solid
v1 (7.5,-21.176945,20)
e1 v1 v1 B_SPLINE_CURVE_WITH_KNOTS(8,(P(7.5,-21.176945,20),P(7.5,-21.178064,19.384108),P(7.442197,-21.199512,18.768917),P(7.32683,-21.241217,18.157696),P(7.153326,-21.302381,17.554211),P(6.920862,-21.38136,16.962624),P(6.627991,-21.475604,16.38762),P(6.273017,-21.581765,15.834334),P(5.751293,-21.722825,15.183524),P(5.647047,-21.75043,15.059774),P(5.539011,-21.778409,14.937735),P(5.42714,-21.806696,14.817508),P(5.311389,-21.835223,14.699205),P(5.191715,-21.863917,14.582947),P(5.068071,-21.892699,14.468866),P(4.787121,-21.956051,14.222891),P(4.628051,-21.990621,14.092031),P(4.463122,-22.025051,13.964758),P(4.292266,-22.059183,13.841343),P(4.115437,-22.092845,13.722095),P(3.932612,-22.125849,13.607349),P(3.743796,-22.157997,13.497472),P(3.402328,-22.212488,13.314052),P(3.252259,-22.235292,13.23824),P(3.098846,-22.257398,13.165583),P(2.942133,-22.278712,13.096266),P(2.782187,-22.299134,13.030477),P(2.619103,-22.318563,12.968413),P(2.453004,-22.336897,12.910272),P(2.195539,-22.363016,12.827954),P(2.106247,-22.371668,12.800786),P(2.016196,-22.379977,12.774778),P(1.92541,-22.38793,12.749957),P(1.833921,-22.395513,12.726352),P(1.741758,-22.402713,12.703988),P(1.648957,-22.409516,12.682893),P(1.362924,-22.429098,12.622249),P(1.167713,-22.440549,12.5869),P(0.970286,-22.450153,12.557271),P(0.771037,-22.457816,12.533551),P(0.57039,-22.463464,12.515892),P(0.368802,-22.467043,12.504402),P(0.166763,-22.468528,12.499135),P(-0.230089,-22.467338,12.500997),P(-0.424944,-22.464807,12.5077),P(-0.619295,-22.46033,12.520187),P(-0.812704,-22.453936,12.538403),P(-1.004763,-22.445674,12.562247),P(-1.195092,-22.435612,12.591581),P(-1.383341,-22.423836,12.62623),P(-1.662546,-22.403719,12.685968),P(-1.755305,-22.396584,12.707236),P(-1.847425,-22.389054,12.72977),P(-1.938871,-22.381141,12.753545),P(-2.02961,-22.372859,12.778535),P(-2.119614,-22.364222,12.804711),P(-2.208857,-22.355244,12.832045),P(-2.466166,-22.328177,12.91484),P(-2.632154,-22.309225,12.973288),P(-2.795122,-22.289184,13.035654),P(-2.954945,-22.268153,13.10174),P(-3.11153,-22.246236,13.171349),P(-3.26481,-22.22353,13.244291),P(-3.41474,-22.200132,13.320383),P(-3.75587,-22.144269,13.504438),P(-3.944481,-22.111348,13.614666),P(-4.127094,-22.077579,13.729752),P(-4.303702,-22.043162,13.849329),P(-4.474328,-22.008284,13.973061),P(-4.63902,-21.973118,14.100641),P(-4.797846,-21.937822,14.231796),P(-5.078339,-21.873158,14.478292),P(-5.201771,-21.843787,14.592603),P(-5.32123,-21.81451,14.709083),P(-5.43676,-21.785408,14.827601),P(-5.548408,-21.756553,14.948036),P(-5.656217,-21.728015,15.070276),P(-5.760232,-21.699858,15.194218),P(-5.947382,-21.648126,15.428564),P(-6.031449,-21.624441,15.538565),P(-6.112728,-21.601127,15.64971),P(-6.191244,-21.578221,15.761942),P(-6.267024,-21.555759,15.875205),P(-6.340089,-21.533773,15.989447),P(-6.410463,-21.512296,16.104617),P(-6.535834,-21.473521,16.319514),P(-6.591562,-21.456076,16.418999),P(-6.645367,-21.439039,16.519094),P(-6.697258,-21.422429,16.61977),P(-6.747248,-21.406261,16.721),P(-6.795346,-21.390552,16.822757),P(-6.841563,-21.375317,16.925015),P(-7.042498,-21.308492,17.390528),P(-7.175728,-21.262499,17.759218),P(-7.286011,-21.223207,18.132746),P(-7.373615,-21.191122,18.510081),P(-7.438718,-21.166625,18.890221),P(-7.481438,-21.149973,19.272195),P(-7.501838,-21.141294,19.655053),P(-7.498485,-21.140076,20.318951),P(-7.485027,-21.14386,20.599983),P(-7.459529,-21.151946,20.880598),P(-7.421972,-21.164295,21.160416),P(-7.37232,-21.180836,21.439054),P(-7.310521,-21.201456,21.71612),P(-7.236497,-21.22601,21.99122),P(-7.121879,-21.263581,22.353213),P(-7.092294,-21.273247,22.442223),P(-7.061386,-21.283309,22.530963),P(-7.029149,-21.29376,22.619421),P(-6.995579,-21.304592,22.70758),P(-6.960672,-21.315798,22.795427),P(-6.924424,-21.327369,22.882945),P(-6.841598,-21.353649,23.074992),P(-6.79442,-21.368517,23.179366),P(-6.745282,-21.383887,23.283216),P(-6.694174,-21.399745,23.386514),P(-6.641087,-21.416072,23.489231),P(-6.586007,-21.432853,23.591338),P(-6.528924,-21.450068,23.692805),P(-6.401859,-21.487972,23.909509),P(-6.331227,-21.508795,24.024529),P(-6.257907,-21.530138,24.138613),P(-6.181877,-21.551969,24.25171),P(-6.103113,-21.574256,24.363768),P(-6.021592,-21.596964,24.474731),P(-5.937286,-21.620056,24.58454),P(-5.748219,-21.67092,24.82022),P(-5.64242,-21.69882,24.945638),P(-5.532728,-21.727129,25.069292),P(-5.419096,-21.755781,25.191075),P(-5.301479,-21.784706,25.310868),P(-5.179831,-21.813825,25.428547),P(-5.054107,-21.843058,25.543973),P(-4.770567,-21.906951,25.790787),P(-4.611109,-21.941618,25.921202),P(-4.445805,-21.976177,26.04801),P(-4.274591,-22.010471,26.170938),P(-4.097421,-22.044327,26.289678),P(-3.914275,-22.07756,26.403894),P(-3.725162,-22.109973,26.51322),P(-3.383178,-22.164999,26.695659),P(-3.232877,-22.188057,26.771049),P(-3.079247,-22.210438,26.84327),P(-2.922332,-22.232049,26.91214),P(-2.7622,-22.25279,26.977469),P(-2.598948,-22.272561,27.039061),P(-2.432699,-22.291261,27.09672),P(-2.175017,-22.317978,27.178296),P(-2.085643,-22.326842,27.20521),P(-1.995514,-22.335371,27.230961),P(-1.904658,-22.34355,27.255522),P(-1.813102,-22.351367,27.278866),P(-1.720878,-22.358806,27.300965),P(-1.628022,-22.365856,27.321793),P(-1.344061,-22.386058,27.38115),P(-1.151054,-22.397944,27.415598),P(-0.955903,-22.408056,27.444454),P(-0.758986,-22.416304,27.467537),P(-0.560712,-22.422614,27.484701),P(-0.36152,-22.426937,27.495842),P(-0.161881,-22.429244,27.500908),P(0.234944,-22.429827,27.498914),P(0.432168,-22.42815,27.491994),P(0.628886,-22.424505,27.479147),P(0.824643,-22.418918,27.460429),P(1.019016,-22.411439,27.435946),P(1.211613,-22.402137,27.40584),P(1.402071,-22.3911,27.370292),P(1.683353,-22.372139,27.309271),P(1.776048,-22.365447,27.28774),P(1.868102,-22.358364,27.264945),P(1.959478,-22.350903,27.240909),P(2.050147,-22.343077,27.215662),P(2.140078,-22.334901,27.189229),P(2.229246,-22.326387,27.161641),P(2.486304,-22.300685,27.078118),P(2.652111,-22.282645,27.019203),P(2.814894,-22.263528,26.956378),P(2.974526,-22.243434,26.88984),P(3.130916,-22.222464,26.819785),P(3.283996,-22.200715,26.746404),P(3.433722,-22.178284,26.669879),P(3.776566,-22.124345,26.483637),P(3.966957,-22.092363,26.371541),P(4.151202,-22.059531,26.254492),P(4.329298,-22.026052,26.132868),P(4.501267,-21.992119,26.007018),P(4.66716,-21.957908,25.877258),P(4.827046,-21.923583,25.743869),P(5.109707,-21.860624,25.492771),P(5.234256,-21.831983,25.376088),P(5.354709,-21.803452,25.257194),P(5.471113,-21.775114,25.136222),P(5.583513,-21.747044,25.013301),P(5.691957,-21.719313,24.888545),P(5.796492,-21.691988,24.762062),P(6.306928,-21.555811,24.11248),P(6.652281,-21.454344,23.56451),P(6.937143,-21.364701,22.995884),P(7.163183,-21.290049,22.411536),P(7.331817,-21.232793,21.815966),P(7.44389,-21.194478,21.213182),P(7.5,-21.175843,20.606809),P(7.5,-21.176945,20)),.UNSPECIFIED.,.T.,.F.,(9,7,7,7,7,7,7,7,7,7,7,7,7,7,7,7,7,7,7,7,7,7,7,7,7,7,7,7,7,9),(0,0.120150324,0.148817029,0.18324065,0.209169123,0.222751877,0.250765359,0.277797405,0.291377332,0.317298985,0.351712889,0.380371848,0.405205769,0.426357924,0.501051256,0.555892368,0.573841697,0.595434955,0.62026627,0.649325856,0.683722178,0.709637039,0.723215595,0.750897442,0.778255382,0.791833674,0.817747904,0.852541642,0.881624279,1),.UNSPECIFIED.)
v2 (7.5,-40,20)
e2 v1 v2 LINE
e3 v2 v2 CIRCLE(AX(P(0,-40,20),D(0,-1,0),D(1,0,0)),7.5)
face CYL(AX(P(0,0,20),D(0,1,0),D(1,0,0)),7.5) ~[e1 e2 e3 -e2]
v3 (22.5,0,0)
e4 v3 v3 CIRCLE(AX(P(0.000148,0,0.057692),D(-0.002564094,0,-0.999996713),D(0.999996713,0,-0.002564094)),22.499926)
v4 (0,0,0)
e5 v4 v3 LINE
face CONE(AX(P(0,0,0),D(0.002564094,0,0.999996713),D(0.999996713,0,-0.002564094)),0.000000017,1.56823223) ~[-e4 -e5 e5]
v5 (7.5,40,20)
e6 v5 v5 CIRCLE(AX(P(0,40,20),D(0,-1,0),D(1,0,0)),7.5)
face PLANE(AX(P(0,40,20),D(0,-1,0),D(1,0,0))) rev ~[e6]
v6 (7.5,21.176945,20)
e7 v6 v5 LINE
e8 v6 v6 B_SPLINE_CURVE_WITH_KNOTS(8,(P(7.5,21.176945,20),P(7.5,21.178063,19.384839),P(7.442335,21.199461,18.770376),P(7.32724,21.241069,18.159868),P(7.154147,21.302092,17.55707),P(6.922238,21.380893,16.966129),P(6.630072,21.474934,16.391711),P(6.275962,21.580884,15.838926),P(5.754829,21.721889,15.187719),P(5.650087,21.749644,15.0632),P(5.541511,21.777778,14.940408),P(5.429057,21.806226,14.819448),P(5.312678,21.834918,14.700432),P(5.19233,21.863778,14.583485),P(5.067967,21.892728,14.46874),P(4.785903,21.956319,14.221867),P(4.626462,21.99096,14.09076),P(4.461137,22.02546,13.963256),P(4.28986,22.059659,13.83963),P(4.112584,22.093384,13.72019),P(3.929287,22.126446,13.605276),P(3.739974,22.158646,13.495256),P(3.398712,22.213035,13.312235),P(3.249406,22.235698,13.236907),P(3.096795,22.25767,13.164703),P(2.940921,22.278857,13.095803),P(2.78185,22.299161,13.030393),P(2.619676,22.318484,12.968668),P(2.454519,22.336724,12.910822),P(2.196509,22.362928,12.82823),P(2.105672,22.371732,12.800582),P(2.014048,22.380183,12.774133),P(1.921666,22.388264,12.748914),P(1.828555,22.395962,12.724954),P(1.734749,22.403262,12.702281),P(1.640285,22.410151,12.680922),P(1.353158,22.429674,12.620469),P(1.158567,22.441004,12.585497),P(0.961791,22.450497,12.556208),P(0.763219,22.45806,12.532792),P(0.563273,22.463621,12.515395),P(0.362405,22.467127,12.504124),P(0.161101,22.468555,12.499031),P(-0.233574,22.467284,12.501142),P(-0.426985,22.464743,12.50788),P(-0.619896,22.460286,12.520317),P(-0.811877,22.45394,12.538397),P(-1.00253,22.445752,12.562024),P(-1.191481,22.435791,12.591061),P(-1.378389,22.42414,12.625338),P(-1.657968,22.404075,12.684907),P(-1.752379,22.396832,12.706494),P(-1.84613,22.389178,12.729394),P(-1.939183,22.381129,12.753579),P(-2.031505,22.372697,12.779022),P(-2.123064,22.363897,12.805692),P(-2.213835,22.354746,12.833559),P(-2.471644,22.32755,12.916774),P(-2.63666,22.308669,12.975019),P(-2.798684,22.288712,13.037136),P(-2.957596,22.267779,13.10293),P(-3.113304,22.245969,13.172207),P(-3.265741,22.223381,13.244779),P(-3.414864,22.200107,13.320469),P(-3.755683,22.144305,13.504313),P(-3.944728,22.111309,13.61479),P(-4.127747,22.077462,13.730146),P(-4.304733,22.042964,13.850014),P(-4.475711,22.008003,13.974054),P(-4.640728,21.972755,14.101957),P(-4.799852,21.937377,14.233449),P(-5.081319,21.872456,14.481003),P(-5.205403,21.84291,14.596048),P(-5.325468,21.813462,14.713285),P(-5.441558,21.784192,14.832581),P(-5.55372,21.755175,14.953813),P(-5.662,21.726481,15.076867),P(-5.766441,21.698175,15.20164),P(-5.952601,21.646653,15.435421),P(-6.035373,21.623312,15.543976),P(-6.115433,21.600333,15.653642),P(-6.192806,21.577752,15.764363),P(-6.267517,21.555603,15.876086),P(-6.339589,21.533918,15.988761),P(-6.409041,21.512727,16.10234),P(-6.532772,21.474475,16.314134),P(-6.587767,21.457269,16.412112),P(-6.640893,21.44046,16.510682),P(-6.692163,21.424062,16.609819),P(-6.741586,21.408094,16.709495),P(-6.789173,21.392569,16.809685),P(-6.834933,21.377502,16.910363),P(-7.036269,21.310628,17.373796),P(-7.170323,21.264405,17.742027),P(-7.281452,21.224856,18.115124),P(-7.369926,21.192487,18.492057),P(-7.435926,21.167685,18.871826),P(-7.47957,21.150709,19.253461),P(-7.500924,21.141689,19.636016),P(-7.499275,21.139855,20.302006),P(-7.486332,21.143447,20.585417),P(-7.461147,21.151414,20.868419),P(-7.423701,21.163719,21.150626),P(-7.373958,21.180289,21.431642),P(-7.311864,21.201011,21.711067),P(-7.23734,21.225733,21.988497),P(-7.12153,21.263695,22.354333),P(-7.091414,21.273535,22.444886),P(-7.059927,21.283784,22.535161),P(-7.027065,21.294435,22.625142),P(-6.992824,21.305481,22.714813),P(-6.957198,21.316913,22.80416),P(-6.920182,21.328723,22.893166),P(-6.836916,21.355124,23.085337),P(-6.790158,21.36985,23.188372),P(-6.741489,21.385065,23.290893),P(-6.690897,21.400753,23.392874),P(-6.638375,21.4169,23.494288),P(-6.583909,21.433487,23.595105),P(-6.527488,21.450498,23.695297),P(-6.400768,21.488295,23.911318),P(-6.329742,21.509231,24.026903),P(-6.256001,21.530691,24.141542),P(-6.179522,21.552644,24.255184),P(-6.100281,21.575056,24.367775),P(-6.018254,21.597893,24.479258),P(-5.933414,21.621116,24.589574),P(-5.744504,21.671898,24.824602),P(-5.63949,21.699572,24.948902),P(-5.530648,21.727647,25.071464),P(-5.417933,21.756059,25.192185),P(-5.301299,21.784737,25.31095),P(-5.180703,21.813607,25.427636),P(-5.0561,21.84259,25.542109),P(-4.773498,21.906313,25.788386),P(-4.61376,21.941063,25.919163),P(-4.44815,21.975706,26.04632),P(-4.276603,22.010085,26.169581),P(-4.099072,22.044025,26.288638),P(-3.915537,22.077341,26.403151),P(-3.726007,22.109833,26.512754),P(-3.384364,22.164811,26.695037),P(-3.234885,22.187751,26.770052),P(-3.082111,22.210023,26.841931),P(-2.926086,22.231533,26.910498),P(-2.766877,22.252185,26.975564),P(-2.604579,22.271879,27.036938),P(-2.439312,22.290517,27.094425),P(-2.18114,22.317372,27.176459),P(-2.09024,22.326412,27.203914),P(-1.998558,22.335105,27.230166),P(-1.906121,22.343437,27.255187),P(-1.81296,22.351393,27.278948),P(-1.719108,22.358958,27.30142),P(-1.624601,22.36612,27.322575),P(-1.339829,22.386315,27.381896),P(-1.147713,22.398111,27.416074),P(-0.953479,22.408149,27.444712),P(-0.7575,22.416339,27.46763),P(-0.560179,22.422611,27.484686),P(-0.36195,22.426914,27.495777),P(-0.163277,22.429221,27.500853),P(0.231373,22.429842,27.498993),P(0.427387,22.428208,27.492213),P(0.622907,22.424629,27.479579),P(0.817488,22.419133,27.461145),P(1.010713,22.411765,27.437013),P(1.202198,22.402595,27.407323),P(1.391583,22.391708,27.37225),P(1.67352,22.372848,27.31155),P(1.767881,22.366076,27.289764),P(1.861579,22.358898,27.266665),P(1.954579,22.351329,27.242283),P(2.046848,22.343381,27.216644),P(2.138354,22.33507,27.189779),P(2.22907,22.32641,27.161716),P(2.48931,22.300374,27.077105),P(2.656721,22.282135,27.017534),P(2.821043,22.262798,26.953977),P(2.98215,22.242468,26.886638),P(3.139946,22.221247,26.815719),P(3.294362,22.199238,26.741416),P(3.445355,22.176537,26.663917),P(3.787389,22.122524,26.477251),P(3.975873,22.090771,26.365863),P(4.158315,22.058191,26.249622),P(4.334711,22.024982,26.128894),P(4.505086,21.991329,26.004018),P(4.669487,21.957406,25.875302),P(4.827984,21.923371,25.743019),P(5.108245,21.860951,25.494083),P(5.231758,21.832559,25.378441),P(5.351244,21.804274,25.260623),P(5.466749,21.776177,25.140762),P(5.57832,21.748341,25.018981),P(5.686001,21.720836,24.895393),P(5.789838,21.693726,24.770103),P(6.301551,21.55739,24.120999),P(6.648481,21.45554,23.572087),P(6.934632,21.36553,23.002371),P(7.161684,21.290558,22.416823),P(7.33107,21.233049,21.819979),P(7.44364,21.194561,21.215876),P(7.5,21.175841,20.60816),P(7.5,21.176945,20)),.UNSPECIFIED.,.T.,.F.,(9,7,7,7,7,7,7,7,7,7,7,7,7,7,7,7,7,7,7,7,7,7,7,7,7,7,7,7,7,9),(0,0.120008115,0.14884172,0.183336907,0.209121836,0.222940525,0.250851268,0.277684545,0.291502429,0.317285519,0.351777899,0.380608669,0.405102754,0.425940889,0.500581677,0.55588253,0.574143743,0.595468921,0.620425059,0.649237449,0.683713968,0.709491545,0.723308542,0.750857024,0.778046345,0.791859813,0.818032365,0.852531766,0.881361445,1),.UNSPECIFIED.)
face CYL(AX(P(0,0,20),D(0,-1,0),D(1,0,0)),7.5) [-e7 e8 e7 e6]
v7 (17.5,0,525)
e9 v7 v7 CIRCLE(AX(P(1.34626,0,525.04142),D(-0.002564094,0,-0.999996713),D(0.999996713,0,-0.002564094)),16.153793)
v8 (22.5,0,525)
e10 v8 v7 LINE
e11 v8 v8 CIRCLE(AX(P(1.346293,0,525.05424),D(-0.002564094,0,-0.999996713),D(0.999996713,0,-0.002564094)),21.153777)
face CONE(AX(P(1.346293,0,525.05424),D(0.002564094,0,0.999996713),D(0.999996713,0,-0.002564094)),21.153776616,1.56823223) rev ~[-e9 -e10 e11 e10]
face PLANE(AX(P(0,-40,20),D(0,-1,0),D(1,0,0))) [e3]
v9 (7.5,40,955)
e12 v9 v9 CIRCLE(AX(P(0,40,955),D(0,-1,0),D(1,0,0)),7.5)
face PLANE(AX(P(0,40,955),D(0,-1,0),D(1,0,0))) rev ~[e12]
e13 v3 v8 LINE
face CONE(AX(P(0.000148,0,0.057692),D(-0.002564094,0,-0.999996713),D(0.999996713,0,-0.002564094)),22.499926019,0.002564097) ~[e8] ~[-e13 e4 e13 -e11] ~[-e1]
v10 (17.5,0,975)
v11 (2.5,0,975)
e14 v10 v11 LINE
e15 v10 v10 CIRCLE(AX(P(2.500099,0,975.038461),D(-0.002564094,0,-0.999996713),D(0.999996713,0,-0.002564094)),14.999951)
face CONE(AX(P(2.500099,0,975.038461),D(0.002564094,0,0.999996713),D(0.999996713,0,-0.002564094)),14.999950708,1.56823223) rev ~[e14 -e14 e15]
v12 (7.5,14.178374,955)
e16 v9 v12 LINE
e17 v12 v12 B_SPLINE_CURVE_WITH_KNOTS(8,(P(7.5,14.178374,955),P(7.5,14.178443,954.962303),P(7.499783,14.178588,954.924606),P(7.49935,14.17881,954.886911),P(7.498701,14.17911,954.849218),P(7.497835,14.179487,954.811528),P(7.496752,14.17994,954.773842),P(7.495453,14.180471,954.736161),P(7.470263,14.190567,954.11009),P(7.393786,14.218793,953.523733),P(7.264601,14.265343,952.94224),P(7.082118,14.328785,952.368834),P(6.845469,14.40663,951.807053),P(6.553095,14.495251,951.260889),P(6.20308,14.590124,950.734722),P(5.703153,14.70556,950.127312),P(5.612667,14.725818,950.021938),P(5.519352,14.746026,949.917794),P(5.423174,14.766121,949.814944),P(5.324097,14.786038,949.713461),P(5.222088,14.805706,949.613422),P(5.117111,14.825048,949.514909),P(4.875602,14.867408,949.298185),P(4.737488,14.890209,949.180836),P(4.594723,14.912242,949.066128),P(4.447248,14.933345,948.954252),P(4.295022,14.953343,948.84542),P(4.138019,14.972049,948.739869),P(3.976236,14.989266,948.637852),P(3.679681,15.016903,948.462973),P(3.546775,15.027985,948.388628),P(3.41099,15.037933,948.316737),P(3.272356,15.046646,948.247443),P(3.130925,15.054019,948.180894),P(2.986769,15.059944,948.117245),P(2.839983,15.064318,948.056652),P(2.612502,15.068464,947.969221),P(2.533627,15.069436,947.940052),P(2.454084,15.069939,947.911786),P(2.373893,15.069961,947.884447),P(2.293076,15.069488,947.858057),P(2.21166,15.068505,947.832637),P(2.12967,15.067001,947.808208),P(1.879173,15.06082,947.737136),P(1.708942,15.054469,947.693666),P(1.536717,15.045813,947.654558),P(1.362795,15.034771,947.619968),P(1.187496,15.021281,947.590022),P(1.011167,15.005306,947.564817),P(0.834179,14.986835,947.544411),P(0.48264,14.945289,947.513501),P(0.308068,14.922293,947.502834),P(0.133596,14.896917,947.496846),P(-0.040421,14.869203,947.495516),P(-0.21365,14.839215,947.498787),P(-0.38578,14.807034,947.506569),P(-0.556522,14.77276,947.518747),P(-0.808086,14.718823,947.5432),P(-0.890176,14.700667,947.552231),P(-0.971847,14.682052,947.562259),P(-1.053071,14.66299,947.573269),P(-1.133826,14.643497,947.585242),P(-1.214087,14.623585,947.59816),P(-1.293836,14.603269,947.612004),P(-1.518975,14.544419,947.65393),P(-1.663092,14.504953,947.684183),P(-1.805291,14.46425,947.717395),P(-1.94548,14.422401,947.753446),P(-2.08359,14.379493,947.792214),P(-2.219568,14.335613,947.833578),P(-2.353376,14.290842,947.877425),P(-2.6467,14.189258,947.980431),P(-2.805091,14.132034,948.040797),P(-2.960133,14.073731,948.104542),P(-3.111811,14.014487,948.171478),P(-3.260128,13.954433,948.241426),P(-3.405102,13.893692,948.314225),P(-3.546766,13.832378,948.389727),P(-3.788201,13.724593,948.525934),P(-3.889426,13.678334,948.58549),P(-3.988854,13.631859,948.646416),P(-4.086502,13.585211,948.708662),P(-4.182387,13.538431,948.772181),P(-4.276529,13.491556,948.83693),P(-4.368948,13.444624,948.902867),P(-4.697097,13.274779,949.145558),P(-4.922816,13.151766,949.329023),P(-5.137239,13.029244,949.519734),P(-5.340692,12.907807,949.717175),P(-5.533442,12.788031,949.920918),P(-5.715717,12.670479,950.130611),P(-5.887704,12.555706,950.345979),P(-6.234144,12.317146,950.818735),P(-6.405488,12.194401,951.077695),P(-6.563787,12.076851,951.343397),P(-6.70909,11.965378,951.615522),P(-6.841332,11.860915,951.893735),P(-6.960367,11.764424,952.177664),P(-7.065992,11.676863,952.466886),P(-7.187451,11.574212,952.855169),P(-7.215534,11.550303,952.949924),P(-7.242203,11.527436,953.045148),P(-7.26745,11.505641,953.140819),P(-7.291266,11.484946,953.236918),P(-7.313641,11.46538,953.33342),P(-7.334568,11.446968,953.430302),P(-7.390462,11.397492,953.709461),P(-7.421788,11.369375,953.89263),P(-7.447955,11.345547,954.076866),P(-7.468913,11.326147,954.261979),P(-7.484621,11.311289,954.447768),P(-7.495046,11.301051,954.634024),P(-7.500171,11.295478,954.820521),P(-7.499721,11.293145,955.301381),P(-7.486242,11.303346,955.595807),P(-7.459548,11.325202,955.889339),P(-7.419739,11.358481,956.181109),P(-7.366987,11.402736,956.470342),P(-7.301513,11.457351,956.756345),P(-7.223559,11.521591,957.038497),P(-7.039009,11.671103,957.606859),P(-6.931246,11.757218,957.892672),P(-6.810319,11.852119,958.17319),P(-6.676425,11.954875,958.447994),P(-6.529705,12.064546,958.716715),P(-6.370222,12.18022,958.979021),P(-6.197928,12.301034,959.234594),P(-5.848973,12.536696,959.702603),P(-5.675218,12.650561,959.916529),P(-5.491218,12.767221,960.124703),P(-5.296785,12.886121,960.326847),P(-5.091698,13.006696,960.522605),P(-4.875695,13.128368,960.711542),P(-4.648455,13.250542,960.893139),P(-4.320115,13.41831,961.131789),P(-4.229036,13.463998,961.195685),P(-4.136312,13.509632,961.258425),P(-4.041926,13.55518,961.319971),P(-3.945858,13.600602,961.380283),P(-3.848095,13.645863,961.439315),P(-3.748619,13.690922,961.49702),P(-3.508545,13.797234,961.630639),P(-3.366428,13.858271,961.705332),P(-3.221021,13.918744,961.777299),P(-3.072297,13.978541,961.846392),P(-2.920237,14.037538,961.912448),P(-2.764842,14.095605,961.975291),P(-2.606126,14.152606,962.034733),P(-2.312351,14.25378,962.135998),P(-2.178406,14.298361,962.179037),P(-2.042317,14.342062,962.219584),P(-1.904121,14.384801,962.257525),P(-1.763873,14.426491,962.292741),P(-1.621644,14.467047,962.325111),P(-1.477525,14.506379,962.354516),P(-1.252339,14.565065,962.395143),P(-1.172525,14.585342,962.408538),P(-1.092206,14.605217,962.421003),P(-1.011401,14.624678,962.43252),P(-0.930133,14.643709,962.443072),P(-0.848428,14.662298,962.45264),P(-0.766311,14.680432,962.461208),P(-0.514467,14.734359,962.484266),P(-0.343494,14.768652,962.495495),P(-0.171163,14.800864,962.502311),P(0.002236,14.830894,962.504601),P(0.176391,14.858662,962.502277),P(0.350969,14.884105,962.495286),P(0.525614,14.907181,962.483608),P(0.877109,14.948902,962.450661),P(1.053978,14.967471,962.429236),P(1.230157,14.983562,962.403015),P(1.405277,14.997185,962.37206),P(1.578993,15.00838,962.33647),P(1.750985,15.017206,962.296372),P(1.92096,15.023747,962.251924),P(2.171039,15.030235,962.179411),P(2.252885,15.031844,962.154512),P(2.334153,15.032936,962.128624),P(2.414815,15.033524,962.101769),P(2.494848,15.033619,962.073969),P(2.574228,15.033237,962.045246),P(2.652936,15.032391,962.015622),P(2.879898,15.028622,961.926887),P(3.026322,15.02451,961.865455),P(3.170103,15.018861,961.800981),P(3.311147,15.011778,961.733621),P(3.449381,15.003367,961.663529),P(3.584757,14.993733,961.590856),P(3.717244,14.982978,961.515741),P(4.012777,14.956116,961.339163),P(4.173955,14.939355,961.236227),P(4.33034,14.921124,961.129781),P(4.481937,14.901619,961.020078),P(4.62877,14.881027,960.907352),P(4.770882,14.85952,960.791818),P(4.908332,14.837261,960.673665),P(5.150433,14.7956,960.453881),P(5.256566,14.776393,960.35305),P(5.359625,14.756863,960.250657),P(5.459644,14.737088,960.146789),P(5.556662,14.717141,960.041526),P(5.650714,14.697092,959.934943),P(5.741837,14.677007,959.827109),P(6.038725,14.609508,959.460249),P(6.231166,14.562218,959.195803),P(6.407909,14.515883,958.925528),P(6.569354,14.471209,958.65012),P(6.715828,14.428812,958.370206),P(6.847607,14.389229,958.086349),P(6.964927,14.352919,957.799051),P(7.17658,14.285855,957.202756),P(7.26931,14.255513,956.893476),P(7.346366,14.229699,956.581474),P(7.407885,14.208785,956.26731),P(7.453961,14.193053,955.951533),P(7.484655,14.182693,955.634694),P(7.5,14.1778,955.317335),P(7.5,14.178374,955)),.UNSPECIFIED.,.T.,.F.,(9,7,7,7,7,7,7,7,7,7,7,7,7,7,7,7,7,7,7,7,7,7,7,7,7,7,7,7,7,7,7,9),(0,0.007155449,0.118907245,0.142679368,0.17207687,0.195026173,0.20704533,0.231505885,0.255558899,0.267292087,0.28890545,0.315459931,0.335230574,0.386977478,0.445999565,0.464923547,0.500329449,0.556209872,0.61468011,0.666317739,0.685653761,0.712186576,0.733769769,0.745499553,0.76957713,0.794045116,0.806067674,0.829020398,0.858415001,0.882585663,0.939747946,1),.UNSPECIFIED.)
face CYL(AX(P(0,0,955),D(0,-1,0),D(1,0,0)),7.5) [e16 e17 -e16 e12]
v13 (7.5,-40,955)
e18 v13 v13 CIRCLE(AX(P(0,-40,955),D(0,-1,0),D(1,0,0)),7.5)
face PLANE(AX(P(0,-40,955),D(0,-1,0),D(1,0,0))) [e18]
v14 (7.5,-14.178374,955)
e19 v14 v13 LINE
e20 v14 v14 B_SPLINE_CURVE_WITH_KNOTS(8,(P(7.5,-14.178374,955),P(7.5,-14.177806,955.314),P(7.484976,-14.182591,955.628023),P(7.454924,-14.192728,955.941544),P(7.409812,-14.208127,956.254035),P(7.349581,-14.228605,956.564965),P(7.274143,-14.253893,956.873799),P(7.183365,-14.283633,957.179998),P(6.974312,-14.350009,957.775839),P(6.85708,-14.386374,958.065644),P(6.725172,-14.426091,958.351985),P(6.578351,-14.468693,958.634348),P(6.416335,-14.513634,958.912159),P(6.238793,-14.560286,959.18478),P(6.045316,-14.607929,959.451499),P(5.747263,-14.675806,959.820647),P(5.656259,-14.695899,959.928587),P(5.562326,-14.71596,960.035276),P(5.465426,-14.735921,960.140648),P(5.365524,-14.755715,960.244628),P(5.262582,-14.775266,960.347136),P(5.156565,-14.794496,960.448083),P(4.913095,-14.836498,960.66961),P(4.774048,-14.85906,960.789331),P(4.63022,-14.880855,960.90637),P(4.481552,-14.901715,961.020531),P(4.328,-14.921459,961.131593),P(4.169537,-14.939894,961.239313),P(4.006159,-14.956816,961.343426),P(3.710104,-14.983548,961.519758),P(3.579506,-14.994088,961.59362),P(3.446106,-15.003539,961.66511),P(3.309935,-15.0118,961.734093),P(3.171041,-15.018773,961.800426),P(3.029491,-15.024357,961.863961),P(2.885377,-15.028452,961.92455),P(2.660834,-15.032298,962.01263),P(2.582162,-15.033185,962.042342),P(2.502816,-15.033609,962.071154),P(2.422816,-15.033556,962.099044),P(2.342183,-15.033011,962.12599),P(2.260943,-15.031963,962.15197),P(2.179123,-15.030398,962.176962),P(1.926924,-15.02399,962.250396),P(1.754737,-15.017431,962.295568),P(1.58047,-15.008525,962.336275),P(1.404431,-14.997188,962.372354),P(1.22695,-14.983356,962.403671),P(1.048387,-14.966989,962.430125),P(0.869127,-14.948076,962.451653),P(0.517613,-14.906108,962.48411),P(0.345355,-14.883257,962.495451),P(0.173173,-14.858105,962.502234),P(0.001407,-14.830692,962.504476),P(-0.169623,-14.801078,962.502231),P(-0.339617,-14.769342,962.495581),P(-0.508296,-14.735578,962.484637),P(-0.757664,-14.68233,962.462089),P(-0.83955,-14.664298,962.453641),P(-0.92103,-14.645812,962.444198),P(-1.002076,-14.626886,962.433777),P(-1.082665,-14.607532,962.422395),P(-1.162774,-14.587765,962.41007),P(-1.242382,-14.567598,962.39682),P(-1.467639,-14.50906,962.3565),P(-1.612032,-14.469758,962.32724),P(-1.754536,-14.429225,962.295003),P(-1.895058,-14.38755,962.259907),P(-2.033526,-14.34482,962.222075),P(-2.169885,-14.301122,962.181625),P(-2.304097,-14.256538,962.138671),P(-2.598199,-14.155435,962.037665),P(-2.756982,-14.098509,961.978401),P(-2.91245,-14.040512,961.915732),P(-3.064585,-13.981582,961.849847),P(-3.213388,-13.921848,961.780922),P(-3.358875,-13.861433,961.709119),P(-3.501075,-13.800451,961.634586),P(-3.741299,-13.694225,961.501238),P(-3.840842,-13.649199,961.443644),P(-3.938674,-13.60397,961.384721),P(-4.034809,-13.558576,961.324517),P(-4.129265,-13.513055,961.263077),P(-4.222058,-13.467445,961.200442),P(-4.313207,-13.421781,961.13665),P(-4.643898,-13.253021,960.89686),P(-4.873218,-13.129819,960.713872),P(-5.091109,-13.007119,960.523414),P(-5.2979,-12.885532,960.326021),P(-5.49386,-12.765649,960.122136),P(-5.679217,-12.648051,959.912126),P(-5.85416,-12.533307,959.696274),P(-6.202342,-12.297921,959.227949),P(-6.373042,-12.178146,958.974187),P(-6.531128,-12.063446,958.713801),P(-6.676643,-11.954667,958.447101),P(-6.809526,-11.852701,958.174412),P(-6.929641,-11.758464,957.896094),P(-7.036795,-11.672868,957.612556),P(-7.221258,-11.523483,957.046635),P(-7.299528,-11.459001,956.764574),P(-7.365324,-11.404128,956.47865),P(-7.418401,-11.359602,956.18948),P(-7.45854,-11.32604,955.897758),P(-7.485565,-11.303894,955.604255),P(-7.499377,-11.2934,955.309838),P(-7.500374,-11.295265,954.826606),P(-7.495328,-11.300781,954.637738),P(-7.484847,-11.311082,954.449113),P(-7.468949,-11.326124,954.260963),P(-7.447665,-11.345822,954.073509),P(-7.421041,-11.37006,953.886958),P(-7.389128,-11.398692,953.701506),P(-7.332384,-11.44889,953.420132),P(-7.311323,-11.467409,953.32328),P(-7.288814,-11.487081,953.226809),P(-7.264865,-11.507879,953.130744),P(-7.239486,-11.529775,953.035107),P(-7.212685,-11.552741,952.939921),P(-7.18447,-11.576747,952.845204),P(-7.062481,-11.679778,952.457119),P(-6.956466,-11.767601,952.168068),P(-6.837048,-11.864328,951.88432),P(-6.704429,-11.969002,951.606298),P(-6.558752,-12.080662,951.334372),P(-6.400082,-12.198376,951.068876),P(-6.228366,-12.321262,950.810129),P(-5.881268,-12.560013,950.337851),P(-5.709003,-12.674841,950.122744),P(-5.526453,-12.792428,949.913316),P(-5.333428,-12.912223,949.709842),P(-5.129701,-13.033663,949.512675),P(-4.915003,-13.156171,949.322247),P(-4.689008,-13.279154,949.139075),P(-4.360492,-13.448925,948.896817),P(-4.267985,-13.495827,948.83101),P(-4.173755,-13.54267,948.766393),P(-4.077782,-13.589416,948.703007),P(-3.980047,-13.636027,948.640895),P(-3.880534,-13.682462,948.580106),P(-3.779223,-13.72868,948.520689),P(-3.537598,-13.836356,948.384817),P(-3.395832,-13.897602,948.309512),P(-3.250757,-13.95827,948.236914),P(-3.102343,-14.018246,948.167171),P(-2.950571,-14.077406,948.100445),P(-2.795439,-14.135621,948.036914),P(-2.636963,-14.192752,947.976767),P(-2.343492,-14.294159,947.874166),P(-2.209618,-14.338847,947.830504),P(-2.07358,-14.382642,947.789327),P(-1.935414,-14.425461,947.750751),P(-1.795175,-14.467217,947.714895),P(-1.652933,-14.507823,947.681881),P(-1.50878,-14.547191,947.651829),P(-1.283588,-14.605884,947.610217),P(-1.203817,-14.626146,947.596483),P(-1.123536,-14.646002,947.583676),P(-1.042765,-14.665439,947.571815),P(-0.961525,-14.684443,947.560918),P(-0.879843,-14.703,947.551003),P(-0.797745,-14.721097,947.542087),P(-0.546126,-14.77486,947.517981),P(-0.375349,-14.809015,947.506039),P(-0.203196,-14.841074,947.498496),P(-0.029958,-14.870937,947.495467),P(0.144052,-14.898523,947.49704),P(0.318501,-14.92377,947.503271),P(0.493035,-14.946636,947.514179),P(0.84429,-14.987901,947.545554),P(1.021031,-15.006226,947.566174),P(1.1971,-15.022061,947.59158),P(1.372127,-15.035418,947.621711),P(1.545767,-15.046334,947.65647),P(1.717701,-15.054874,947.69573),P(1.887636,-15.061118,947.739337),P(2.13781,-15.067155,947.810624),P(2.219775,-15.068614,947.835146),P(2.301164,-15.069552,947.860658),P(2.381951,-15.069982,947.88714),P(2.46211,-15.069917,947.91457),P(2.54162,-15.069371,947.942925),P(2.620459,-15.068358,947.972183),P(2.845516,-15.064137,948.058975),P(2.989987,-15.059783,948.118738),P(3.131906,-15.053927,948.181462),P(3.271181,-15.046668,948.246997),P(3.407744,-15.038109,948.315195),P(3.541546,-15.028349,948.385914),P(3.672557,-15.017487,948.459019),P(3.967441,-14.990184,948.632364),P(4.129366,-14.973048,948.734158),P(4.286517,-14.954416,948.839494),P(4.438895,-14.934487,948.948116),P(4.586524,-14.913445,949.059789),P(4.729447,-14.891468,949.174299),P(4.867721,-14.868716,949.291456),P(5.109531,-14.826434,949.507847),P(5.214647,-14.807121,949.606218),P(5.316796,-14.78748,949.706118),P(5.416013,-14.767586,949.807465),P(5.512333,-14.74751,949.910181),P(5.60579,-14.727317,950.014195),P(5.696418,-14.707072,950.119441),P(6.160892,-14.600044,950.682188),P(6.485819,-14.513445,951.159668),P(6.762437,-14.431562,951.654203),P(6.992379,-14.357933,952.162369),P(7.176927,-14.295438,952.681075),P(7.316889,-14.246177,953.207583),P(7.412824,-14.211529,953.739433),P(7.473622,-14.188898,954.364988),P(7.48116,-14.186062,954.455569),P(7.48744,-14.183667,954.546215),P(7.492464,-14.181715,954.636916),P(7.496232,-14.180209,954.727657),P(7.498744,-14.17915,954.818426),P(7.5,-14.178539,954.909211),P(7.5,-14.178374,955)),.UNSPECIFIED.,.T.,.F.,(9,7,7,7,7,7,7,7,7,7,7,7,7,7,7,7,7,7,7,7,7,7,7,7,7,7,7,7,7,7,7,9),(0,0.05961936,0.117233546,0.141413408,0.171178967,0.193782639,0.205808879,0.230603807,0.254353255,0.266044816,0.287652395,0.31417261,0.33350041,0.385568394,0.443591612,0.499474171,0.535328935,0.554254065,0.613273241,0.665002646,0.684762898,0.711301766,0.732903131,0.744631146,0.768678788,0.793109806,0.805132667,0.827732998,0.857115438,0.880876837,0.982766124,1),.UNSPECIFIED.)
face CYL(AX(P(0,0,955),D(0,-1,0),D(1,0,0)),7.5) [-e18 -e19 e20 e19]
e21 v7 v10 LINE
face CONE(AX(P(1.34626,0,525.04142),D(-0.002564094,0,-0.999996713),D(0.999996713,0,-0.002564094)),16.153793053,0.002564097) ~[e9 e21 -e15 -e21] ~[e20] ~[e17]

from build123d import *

# Parameters (mm, degrees)
F2_R     = 7.5
F3_DEPTH = 40


with BuildPart() as f1:
    # F0 (on Front) → F1 (revolve)
    with BuildSketch(Plane.XZ):
        Polygon((2.5, 975), (0, 0), (22.5, 0), (22.5, 525), (17.5, 525), (17.5, 975), align=None)
    revolve(axis=Axis((1.25, 0, 487.5), (-0.0025640941, 0, -0.9999967127)))

    # F2 (on Front) → F3 (join, symmetric)
    with BuildSketch(Plane.XZ):
        with Locations((0, 20)):
            Circle(F2_R)
        with Locations((0, 955)):
            Circle(F2_R)
    extrude(amount=F3_DEPTH, both=True)


solid = f1.part
